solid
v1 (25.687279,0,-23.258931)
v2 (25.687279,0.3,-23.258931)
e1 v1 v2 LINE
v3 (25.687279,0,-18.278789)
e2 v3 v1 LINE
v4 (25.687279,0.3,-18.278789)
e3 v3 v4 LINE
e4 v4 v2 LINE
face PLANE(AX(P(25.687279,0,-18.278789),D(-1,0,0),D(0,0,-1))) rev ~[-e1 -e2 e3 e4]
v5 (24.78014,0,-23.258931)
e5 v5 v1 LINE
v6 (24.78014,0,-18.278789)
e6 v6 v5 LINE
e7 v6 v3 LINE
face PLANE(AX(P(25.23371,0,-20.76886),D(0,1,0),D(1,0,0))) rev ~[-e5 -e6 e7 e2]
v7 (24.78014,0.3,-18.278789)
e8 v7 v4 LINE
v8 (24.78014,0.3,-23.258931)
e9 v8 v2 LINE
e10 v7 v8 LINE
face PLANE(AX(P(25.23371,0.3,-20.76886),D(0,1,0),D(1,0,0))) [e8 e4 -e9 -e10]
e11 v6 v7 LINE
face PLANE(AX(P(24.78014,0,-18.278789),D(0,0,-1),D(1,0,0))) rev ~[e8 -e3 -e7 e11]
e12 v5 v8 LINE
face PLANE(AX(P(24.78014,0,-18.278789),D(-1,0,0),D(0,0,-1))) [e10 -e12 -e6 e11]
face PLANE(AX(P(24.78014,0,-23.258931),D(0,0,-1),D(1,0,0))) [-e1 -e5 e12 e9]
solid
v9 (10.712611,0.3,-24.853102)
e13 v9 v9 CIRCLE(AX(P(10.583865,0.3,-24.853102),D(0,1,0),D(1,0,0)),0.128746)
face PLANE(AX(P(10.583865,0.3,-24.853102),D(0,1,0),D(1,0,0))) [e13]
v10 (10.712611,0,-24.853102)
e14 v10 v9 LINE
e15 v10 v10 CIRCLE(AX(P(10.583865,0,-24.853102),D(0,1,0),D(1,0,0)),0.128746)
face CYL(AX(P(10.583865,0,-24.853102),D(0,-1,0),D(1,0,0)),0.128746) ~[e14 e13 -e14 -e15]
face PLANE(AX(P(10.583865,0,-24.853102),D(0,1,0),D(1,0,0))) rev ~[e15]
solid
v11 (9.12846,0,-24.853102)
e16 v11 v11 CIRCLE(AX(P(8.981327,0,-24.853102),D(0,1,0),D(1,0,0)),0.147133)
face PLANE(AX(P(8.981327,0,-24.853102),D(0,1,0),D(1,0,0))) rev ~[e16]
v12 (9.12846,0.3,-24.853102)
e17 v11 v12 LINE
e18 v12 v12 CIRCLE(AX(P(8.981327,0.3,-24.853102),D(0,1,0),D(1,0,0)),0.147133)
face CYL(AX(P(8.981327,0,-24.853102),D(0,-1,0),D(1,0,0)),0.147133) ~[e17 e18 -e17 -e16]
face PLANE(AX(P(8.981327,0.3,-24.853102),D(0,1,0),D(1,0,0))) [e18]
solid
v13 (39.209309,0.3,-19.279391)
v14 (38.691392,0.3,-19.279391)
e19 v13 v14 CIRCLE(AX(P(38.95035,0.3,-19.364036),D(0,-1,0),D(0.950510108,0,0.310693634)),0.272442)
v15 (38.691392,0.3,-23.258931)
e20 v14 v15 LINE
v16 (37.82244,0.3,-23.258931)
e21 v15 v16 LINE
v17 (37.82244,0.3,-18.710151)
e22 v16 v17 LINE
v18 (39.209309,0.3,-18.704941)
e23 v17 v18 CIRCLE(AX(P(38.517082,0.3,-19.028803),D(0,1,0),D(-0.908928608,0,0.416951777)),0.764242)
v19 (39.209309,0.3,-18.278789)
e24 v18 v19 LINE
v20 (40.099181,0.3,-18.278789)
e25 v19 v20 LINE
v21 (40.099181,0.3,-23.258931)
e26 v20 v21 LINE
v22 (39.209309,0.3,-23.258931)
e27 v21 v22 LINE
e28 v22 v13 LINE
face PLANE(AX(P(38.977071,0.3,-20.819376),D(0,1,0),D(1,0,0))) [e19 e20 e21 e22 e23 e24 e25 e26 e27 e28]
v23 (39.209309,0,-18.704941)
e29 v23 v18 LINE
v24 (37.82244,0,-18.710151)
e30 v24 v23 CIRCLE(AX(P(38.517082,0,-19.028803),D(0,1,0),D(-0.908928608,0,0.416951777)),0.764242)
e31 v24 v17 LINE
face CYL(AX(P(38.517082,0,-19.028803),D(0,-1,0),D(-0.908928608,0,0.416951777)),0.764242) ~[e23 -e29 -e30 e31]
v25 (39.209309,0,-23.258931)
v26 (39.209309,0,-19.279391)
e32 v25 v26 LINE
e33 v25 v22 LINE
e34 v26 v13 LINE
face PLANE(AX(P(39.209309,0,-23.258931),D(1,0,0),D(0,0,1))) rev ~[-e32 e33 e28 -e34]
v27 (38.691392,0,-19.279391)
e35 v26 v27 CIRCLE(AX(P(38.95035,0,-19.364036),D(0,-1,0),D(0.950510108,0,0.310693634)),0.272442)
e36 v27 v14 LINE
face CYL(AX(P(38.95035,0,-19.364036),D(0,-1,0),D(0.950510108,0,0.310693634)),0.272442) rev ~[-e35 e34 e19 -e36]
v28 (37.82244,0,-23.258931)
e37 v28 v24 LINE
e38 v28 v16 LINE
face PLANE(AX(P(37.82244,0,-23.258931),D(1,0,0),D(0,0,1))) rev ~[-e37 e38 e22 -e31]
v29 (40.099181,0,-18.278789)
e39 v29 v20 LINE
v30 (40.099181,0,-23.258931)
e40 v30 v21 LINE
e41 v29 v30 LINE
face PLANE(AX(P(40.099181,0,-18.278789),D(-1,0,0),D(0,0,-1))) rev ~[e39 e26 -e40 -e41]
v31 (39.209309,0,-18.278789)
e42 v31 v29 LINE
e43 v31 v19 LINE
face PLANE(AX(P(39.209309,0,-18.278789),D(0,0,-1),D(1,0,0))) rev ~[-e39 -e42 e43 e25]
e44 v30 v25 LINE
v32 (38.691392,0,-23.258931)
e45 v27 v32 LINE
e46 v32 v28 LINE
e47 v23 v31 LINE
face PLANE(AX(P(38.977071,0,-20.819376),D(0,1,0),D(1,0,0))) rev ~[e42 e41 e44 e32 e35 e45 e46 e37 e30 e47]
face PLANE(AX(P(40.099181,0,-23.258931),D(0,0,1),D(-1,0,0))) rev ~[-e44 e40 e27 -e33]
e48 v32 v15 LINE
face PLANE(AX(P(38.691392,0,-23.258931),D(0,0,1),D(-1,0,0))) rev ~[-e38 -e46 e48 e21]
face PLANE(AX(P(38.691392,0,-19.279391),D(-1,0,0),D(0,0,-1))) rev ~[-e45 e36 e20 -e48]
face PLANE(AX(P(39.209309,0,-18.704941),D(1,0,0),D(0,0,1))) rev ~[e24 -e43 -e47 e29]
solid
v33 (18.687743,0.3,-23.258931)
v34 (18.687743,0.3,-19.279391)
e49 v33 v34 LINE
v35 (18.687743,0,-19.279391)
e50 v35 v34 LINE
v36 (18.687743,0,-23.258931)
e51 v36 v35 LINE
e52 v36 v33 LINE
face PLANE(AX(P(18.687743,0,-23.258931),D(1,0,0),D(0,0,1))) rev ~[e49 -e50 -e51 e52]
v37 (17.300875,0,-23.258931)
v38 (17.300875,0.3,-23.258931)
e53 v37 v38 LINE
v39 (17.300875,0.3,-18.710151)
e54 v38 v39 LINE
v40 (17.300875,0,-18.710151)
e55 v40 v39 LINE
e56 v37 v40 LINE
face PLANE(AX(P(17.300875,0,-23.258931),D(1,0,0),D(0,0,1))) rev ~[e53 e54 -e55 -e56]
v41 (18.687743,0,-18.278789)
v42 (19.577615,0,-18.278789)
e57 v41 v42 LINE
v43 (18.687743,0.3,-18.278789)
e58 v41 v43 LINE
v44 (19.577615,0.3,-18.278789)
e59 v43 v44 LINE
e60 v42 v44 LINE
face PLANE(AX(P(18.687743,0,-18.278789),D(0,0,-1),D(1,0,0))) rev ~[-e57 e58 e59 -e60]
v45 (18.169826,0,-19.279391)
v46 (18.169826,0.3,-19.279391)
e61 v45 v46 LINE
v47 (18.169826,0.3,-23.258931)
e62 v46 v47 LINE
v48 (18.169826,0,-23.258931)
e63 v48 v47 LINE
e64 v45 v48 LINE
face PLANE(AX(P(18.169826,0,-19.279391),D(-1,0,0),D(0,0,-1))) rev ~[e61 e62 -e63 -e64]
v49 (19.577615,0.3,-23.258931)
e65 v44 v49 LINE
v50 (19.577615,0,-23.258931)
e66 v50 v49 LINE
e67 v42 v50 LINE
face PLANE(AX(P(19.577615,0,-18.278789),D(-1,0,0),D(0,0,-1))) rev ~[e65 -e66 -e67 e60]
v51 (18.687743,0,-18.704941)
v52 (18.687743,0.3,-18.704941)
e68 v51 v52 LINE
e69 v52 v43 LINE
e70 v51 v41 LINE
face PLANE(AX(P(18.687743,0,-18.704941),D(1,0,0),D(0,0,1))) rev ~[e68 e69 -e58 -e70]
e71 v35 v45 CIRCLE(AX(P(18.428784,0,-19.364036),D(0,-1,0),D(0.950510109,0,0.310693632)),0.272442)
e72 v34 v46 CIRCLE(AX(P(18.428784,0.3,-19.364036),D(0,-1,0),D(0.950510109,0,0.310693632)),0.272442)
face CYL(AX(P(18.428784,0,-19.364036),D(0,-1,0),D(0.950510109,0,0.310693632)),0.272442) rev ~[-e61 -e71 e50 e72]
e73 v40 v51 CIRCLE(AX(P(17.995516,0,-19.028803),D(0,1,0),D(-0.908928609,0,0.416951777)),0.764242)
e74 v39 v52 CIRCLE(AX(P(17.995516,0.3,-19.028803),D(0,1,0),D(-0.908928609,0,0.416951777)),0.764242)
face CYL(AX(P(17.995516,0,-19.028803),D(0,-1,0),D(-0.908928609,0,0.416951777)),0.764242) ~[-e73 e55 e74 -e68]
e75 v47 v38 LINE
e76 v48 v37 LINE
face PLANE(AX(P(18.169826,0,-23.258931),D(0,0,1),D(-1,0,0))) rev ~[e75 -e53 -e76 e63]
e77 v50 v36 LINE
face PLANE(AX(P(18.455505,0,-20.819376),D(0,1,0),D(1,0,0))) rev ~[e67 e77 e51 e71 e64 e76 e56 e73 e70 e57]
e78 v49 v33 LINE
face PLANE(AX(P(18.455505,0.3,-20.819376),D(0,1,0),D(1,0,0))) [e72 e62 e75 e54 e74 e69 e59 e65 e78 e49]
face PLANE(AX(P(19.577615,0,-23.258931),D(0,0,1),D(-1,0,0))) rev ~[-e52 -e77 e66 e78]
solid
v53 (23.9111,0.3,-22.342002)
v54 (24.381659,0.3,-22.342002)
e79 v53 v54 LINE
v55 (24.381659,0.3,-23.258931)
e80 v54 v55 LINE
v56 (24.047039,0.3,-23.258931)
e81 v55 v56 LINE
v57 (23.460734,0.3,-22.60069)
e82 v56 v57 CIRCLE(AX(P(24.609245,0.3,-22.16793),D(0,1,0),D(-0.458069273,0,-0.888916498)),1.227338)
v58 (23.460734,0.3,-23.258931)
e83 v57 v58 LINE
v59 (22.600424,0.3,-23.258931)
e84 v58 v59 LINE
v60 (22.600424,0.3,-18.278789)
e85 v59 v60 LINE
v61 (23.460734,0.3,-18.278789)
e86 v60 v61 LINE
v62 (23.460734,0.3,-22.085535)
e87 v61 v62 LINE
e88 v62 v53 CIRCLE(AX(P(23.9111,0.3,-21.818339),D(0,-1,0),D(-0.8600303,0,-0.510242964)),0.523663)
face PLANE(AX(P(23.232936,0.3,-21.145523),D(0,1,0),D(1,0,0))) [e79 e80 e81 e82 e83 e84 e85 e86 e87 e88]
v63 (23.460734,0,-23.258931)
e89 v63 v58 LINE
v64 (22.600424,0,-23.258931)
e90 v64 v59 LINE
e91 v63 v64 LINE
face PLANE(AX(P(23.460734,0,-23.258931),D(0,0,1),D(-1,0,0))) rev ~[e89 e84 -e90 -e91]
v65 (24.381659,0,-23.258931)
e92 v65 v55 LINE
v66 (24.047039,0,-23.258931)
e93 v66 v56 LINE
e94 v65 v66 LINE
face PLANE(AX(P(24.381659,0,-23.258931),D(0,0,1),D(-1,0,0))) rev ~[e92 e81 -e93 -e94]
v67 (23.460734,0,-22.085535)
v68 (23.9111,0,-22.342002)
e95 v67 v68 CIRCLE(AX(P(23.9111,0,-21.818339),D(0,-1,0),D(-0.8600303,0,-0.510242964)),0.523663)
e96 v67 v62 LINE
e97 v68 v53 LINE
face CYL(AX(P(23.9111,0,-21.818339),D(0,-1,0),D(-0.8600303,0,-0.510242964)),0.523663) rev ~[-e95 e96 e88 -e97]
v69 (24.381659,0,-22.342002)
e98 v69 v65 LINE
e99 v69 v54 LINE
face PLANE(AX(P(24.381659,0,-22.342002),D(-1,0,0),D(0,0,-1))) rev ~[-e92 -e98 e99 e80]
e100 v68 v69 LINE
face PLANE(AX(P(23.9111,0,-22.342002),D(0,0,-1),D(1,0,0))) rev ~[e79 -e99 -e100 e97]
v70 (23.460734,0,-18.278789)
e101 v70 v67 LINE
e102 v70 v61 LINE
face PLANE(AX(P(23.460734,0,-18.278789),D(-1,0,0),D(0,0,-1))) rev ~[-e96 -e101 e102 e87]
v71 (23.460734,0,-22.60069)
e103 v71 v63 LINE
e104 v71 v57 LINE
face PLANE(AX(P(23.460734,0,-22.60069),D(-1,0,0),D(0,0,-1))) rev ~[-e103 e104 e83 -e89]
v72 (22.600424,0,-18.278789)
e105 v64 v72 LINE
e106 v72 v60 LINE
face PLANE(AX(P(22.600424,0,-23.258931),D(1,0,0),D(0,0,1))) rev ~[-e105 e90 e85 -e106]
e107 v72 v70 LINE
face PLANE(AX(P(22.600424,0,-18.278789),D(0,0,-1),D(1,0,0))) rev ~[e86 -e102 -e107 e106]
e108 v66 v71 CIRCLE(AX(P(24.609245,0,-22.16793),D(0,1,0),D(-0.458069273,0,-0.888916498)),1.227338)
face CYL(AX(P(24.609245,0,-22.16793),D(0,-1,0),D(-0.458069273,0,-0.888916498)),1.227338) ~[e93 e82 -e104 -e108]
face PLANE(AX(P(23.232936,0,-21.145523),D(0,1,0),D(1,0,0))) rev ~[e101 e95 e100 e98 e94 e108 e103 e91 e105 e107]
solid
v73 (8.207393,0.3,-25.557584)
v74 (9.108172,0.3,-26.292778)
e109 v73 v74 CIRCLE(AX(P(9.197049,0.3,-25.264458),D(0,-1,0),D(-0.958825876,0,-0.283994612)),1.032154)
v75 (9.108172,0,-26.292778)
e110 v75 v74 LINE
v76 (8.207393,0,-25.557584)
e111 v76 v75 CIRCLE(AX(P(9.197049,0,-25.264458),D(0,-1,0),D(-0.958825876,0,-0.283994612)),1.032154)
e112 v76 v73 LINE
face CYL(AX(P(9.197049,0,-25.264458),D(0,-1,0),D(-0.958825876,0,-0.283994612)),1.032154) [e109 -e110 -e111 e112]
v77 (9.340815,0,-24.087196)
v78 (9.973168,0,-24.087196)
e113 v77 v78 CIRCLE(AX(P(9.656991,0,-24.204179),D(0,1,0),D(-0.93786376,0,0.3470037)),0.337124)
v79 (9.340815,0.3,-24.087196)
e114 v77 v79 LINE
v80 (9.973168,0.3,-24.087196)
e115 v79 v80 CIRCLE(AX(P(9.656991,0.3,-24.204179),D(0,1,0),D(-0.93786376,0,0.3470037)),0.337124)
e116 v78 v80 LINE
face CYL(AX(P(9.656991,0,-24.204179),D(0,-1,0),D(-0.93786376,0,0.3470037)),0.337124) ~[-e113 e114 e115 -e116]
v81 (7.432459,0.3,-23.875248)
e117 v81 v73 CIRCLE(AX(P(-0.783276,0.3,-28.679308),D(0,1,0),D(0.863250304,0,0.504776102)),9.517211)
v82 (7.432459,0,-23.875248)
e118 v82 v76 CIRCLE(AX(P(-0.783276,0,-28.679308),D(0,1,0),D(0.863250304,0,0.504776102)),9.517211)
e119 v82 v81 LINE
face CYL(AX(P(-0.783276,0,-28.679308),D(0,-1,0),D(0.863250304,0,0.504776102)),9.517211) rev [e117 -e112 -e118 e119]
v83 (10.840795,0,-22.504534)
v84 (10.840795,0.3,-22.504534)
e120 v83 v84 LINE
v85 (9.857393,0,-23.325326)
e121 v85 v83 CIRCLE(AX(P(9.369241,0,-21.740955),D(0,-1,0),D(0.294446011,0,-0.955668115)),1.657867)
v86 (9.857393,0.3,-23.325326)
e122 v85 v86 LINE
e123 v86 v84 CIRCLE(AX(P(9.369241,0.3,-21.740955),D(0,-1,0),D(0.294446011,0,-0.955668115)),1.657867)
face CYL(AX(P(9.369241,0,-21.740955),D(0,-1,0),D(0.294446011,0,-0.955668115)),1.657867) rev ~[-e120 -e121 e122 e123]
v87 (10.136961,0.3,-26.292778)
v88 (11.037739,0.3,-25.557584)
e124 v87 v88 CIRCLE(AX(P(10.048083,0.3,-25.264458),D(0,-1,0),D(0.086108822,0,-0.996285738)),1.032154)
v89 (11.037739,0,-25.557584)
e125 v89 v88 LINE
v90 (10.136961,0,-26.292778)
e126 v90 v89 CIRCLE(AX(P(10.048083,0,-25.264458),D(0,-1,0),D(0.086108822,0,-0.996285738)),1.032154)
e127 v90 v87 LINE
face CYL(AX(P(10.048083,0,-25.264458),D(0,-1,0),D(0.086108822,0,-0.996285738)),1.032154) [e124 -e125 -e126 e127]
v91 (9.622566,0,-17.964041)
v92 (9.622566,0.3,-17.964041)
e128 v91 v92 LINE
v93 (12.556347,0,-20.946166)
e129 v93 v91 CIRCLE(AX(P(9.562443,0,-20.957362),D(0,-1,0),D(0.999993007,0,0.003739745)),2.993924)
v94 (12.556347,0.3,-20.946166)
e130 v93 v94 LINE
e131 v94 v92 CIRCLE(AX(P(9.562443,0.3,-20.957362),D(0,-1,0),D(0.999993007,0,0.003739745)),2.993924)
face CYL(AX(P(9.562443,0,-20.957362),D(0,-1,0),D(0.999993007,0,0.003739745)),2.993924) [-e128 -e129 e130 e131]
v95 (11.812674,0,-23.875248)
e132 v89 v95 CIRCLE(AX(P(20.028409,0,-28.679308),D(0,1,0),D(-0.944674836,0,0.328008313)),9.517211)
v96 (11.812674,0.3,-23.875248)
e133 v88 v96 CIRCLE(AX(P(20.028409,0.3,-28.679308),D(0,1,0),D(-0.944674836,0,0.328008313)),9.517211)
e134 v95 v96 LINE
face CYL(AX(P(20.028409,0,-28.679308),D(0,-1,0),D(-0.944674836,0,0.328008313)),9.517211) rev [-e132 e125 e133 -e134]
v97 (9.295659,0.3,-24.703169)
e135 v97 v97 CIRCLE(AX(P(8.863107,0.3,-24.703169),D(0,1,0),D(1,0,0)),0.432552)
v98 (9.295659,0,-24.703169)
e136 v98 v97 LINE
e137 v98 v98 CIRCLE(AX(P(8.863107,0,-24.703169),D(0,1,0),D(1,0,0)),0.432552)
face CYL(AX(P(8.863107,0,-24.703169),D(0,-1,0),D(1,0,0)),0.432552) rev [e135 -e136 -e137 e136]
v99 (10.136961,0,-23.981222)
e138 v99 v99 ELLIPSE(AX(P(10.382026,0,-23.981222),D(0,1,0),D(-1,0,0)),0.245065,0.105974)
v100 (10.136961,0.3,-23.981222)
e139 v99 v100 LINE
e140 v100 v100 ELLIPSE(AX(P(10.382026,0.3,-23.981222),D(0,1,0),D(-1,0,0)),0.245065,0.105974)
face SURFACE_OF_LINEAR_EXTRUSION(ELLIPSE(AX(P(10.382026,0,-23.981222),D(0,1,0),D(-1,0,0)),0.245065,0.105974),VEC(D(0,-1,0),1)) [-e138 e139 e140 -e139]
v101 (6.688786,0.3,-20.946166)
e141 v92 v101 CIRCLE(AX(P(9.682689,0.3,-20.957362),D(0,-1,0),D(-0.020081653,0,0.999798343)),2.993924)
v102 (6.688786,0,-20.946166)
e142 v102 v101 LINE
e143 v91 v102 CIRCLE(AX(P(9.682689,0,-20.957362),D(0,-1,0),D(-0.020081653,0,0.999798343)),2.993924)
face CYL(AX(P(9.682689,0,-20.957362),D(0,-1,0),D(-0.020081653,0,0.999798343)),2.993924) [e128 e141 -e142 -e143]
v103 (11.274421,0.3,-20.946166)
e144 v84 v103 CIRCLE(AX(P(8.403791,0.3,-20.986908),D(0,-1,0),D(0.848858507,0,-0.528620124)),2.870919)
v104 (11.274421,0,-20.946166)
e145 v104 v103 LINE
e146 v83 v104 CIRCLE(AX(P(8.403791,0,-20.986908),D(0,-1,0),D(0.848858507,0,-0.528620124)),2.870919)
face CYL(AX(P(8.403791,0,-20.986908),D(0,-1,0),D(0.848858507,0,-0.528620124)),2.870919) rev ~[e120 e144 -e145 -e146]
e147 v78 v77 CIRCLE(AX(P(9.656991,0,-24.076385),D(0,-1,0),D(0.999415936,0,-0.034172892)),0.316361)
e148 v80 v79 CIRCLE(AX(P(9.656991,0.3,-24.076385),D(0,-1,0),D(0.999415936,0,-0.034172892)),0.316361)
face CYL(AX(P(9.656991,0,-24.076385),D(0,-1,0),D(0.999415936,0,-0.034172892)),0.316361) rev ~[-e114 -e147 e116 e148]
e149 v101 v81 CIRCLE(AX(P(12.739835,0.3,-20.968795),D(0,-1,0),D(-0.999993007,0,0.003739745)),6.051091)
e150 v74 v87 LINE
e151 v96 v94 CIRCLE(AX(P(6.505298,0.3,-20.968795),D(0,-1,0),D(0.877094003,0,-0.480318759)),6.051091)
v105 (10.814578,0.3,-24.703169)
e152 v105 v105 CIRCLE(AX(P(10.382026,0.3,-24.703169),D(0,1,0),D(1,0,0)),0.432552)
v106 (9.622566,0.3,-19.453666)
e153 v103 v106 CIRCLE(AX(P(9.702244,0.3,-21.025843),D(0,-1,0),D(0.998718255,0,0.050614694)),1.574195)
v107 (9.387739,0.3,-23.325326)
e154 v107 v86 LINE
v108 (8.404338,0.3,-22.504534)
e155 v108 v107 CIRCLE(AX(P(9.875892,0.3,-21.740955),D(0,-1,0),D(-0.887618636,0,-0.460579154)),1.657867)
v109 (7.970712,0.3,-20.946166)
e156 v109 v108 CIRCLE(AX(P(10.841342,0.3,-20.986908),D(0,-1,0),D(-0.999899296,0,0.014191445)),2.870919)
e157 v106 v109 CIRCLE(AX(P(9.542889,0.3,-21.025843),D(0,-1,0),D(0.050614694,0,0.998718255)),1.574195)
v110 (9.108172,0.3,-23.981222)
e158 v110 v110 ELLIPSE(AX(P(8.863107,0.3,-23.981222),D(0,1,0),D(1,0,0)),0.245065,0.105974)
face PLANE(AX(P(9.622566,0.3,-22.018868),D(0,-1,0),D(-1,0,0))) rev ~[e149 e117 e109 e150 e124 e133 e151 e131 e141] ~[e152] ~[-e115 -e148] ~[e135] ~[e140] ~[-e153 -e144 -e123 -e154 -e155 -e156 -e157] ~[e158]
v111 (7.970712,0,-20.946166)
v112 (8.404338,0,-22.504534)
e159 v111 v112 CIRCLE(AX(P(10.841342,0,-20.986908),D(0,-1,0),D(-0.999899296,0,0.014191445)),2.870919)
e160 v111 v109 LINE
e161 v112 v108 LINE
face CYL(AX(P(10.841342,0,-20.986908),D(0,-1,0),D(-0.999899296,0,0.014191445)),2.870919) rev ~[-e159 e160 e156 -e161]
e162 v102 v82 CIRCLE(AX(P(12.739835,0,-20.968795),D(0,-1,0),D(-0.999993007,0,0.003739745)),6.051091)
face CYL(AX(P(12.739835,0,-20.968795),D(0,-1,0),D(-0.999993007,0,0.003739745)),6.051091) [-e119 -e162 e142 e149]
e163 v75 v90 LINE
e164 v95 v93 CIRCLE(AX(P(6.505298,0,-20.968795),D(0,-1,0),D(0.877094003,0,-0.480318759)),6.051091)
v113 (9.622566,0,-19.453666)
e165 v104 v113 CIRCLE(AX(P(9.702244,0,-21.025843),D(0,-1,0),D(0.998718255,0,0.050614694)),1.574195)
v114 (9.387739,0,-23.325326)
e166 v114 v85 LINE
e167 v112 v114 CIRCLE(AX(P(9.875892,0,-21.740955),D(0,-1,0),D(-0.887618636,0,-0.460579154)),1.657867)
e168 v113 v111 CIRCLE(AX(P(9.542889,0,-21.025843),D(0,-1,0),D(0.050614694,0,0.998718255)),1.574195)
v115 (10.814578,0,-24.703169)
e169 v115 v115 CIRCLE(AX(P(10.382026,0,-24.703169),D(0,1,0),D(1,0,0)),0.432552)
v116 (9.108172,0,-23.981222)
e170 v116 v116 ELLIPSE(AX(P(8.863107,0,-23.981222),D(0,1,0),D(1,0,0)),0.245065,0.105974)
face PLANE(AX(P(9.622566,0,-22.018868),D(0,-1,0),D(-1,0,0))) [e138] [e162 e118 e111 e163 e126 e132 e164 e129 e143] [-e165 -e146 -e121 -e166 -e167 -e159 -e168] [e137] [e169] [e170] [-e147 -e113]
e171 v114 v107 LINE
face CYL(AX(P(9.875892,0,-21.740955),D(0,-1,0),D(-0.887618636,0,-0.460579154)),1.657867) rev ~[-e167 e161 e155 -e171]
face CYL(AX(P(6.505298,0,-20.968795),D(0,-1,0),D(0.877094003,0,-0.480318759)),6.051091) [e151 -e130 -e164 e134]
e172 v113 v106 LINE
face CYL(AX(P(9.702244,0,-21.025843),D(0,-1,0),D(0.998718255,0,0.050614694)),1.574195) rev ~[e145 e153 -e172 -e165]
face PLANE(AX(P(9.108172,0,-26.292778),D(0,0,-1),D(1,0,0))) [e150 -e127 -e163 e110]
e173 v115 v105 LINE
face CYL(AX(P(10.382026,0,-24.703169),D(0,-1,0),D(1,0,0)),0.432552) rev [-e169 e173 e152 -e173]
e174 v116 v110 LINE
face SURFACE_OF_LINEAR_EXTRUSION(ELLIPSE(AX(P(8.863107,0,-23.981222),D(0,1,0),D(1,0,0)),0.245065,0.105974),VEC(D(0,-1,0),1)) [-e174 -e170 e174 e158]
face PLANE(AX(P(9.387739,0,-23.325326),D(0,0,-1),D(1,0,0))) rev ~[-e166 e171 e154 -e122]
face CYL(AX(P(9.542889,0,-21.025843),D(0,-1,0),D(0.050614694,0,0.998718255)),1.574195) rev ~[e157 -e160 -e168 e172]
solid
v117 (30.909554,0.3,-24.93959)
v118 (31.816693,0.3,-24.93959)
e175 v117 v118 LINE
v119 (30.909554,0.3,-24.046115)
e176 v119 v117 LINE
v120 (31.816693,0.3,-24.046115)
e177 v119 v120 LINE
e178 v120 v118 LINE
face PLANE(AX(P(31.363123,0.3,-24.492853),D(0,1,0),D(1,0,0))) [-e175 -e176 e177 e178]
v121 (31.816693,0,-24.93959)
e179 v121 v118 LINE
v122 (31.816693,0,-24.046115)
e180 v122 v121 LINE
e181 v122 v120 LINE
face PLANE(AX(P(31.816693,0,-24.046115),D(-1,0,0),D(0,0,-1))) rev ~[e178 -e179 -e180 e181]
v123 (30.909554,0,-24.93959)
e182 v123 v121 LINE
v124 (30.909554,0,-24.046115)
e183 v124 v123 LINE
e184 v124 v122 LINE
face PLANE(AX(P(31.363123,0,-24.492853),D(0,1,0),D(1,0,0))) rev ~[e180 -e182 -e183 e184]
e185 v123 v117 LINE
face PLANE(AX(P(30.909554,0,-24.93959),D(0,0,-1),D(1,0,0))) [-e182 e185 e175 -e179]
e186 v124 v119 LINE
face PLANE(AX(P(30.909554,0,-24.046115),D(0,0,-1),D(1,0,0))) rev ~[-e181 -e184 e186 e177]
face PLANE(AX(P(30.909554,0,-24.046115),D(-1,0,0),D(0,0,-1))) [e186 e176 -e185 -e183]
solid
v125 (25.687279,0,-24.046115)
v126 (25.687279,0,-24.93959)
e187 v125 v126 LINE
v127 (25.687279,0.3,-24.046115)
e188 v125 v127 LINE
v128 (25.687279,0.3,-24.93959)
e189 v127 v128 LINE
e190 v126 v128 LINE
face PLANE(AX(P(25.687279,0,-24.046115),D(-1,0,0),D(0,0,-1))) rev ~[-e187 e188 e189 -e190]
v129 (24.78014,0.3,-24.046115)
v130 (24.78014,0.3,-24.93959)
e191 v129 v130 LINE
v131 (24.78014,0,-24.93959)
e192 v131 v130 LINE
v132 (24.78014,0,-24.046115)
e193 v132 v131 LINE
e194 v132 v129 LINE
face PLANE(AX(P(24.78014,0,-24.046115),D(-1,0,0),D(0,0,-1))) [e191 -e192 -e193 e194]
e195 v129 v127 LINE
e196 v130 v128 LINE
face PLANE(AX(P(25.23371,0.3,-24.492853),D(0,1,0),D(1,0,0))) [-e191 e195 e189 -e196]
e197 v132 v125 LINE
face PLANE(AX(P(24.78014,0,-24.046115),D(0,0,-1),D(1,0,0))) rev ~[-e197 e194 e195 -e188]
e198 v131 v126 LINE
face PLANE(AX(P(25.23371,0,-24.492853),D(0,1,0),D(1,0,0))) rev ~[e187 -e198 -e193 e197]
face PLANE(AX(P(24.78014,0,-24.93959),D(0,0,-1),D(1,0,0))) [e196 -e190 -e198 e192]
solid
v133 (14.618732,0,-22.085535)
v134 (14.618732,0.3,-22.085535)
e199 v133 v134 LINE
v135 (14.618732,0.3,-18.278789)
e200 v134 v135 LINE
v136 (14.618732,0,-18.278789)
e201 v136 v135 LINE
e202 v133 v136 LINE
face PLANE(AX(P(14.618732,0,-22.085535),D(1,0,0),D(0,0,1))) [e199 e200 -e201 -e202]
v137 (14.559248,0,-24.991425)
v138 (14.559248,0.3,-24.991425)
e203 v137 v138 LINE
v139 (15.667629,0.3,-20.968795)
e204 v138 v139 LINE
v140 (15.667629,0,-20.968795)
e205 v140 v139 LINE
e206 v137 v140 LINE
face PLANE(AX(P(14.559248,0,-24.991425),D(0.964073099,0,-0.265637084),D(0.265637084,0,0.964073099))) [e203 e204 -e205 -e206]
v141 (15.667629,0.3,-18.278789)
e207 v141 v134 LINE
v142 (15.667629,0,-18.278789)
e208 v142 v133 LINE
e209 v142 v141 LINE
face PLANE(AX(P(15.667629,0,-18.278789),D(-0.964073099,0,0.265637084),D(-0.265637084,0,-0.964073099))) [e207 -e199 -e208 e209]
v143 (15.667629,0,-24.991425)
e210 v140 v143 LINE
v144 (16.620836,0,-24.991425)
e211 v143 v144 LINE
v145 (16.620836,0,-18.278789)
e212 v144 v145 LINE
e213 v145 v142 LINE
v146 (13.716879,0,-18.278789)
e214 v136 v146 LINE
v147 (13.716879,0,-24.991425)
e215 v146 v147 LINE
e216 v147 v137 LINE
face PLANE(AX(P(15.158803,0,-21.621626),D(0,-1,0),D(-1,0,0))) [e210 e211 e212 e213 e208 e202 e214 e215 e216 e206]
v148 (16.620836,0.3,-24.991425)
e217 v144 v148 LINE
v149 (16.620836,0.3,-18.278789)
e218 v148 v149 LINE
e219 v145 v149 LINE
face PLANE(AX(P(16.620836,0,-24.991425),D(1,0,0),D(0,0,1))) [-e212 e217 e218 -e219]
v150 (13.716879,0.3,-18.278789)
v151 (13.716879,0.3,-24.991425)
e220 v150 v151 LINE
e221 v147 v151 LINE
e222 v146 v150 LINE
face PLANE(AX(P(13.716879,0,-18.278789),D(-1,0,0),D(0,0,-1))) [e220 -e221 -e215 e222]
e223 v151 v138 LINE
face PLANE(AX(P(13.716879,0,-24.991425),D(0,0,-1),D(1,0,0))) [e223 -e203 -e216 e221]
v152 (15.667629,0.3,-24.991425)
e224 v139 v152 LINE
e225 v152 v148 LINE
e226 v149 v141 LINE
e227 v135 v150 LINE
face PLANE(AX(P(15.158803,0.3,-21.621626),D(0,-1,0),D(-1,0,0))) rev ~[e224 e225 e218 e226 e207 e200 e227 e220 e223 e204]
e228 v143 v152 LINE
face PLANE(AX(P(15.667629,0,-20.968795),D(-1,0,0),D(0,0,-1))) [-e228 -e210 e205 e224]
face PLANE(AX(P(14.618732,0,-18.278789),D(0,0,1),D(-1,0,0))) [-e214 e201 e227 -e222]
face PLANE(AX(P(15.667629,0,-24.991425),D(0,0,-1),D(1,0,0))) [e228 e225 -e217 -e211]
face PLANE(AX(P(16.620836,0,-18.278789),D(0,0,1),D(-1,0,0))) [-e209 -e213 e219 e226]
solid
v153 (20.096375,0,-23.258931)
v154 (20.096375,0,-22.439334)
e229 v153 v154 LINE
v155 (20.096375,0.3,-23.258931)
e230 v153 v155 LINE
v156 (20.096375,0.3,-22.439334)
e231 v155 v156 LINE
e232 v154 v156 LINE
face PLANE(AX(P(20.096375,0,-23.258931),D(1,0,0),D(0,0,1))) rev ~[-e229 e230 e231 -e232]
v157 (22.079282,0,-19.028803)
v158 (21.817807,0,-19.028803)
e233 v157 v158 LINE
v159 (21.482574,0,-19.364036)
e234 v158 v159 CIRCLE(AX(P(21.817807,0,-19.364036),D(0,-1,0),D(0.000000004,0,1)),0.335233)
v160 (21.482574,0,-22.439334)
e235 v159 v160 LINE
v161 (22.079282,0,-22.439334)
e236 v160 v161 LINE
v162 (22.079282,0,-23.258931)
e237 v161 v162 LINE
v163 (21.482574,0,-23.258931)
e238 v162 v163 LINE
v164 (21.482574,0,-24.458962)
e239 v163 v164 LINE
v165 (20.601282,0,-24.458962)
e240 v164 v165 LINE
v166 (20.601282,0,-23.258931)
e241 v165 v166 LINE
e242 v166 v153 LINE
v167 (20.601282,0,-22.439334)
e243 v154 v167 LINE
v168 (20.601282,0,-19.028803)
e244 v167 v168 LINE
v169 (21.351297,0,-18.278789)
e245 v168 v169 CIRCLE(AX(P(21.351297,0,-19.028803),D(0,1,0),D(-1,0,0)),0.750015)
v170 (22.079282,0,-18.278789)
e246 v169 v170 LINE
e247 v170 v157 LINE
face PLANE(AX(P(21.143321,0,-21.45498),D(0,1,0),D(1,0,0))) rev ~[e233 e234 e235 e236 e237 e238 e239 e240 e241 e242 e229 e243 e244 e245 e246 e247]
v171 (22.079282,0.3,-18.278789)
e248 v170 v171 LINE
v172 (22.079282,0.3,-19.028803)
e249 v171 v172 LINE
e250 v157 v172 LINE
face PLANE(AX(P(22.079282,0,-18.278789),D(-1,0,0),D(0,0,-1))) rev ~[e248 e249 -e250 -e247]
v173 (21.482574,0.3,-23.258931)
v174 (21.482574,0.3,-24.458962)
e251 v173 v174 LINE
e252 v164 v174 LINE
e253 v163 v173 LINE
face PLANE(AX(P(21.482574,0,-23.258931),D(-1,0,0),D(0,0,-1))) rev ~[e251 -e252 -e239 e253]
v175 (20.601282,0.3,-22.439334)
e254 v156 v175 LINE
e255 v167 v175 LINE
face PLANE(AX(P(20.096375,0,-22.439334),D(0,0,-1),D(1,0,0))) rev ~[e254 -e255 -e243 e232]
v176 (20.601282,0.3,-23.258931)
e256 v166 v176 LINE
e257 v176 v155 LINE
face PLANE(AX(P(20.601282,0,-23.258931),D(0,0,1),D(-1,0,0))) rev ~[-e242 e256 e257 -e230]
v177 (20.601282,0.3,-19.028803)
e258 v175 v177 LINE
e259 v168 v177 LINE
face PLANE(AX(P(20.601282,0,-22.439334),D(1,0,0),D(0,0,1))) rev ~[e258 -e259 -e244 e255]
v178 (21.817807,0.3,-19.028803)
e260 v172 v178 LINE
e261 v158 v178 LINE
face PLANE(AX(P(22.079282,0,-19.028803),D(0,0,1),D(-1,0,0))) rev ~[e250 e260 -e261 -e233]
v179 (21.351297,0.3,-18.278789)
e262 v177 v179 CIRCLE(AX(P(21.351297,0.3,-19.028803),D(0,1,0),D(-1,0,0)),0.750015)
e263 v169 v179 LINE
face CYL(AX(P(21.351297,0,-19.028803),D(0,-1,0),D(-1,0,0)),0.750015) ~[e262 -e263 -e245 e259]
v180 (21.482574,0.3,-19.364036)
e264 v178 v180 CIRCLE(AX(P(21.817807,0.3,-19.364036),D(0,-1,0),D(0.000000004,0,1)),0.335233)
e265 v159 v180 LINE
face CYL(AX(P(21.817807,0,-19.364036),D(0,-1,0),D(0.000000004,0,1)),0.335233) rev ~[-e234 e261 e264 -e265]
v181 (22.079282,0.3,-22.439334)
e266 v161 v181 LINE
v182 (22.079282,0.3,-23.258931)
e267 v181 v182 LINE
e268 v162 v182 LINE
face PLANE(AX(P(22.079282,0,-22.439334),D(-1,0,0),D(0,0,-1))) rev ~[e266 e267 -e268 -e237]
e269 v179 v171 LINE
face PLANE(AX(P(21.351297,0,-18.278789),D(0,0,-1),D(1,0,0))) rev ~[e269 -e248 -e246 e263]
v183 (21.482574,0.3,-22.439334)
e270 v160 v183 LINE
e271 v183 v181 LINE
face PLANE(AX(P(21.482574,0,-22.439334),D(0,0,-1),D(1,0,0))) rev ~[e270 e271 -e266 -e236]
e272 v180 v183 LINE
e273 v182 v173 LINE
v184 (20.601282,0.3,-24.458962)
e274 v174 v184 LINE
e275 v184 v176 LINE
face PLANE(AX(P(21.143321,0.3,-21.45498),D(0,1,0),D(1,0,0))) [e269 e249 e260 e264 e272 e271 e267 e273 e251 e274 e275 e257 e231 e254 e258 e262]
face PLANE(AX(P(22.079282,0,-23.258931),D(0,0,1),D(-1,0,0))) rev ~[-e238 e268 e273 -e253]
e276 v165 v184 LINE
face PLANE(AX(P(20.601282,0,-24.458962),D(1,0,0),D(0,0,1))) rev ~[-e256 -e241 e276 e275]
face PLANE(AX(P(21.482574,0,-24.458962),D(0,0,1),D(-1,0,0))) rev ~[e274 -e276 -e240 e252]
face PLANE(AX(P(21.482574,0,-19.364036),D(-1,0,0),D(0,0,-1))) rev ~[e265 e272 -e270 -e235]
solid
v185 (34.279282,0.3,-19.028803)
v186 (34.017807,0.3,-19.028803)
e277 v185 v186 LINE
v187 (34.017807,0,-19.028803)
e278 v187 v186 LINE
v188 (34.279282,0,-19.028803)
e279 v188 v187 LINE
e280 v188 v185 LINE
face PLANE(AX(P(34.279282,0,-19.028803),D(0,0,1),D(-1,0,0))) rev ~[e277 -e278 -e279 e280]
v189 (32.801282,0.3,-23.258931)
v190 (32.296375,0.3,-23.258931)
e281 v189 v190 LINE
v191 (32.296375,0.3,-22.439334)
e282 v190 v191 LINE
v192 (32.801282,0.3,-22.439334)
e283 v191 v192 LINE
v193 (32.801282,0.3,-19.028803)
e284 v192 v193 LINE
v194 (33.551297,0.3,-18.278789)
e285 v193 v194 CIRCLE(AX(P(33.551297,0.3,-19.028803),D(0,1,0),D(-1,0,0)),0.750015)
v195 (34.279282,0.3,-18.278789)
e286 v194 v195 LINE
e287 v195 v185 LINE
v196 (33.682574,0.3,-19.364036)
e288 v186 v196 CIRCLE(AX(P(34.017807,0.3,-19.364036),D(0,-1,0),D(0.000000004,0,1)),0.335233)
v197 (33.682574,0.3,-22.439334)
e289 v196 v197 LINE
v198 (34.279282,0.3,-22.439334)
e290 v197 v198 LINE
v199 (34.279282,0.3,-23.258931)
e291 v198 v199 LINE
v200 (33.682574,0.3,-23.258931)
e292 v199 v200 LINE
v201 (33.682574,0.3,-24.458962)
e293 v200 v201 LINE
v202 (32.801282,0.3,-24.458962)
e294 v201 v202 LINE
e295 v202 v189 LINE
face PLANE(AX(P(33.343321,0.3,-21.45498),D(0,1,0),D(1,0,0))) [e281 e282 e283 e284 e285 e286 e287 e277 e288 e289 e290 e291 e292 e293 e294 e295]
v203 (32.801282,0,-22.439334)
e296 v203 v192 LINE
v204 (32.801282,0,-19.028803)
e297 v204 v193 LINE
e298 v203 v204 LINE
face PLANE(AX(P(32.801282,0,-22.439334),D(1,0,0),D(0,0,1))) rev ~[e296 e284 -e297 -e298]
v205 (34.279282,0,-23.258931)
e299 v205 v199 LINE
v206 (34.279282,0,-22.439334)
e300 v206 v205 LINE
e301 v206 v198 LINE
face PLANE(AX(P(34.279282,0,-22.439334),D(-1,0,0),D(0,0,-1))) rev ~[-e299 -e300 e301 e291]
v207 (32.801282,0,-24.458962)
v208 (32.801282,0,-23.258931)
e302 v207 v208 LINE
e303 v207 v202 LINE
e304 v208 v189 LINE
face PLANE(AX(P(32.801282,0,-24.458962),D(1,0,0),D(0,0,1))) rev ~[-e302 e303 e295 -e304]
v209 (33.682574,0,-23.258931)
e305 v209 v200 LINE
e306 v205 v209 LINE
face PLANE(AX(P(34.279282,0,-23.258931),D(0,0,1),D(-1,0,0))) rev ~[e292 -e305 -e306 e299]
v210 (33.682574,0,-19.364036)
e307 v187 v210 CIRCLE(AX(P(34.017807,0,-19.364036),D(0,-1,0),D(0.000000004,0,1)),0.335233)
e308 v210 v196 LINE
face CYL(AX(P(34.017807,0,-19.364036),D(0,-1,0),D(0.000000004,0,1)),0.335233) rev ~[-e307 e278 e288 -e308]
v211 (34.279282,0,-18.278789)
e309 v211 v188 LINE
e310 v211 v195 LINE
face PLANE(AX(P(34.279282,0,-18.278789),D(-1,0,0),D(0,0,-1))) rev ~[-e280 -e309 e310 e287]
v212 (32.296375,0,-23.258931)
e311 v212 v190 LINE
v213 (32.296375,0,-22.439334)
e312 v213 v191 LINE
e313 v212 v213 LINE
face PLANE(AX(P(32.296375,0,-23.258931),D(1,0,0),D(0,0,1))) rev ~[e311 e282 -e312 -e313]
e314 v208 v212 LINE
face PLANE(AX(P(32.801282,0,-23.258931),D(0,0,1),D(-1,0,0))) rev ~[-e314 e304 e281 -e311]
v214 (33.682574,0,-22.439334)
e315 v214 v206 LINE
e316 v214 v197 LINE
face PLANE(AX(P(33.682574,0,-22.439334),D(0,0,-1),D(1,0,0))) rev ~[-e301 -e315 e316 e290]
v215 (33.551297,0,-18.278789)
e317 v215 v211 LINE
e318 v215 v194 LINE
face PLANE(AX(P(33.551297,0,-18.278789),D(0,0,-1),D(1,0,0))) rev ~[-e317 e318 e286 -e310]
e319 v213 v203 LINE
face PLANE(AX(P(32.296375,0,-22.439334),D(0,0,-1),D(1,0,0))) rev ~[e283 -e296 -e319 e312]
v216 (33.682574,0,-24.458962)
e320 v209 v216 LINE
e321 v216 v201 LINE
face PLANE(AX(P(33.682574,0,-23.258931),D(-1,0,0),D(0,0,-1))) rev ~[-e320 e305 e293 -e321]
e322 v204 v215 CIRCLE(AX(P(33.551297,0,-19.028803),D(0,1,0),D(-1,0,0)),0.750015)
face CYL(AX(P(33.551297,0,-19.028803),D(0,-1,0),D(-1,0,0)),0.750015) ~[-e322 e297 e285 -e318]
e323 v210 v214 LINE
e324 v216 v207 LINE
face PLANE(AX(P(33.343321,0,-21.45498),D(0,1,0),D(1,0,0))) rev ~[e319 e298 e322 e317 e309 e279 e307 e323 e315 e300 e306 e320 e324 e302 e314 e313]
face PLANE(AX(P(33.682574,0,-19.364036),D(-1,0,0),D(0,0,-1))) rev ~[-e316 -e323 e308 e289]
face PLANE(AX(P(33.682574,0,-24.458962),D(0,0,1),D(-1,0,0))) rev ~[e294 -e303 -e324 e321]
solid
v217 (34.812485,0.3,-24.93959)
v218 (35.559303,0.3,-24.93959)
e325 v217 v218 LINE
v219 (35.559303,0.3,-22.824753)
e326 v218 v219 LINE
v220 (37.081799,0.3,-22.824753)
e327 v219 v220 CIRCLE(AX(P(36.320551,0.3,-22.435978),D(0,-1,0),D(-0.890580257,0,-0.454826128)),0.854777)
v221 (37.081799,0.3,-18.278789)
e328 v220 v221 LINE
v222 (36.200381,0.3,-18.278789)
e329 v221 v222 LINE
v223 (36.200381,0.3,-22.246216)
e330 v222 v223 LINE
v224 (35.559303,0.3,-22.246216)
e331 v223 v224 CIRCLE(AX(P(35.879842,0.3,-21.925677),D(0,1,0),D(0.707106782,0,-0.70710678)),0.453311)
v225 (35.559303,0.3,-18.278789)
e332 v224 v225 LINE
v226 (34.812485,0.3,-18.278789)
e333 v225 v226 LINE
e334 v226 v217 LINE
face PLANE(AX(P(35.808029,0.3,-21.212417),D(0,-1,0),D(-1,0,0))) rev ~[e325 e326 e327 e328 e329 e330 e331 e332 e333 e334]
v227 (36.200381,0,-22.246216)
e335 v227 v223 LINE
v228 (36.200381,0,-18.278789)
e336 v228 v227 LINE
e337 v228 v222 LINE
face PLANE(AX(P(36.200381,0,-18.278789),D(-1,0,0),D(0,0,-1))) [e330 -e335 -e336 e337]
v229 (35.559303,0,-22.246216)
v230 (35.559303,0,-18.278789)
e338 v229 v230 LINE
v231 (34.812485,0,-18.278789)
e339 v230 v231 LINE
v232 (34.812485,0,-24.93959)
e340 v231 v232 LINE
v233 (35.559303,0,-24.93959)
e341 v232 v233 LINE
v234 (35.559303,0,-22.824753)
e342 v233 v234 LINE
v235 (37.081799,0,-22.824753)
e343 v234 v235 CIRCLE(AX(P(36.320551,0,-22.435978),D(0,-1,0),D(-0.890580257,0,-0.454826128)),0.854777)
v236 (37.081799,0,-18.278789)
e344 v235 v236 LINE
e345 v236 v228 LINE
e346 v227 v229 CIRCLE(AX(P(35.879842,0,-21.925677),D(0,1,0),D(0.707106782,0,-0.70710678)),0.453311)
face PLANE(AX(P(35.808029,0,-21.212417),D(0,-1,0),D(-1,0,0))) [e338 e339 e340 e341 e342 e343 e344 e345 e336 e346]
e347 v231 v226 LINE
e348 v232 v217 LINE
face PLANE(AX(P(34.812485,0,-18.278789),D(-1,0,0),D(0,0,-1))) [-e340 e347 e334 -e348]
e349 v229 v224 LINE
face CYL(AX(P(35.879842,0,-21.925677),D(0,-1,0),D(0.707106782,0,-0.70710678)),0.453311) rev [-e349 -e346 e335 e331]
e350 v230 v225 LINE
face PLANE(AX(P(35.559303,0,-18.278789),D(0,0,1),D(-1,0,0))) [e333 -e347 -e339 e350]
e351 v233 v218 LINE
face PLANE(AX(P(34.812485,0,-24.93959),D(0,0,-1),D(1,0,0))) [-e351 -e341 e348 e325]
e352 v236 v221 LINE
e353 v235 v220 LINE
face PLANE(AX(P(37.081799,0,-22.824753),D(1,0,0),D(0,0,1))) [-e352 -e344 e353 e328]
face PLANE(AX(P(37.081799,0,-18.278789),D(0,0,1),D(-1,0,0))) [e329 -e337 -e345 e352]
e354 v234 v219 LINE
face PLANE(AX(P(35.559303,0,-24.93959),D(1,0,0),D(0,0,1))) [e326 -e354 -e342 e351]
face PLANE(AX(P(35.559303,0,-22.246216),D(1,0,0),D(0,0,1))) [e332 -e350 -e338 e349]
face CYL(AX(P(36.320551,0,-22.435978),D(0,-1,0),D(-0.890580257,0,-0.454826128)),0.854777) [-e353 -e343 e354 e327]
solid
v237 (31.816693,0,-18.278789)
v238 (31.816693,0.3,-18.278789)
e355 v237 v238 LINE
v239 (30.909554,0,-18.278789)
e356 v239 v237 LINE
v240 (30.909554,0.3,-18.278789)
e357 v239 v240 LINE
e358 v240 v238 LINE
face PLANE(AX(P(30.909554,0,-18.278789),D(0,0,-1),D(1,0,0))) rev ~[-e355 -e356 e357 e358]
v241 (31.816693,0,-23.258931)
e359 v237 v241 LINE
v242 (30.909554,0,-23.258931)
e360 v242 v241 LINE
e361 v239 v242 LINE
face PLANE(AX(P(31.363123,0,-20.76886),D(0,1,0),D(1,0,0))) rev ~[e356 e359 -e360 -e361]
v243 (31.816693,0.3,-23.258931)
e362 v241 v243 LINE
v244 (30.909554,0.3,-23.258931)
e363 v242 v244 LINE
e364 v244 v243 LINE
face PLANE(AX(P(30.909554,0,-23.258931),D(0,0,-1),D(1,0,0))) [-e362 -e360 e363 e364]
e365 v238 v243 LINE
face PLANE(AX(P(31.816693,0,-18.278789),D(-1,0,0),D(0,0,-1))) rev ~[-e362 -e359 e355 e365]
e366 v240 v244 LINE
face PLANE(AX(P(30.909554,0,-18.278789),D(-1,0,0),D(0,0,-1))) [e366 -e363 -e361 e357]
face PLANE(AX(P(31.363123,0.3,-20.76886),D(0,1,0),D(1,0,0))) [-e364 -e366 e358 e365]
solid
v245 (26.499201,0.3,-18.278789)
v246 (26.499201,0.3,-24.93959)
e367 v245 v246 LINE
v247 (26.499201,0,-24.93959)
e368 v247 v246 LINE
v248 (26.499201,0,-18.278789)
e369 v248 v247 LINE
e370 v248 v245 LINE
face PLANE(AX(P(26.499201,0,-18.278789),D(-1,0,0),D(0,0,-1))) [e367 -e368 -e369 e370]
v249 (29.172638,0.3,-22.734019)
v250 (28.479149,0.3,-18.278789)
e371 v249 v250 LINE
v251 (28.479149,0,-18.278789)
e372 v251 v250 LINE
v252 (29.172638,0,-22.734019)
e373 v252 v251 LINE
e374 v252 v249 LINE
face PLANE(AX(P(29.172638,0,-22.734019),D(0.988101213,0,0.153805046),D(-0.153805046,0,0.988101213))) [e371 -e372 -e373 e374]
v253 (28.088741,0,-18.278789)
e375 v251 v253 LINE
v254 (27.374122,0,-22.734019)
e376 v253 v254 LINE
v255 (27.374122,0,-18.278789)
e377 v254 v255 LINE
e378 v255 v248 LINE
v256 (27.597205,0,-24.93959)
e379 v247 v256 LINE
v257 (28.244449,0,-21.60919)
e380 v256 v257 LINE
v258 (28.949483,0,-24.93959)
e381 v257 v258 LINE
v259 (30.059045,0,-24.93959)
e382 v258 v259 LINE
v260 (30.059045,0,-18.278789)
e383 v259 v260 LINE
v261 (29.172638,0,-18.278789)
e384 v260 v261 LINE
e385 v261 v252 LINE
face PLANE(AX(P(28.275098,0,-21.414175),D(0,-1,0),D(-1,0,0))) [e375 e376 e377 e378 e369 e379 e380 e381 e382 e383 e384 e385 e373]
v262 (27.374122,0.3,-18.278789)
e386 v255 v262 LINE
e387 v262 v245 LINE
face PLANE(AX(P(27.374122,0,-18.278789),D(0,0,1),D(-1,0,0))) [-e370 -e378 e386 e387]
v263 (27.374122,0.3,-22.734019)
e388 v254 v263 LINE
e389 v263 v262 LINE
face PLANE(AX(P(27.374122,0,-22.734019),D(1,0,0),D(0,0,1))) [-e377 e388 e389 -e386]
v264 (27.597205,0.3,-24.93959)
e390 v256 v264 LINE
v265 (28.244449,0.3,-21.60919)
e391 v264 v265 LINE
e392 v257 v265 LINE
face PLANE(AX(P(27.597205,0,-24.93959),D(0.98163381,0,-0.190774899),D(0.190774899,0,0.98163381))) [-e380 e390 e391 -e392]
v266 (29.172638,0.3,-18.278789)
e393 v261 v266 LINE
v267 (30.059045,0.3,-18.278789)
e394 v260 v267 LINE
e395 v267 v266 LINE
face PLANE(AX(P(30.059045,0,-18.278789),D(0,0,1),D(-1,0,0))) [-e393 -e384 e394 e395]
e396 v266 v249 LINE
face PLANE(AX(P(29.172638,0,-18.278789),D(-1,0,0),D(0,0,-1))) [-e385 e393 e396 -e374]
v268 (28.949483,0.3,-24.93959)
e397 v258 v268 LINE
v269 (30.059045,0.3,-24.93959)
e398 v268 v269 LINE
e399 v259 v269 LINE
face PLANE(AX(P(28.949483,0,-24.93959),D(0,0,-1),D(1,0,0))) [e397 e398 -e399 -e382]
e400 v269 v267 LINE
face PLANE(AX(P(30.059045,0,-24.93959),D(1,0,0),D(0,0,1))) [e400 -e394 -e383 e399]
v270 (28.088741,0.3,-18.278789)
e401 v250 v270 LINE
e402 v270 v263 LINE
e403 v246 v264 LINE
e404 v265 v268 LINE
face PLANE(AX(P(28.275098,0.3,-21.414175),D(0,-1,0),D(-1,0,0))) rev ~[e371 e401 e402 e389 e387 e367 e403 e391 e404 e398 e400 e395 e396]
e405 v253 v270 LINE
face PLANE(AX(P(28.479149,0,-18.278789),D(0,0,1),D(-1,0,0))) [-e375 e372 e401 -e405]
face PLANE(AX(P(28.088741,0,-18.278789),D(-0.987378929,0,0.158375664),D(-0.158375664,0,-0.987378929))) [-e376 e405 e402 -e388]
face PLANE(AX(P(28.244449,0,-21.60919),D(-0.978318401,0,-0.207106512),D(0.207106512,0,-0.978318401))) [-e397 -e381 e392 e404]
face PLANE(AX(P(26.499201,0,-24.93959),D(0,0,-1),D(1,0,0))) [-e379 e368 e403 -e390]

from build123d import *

# Parameters (mm, degrees)
BOSS_EXTRUDE1_DEPTH    = 0.3
BOSS_EXTRUDE1_2_DEPTH  = 0.3
BOSS_EXTRUDE1_3_DEPTH  = 0.3
BOSS_EXTRUDE1_4_DEPTH  = 0.3
BOSS_EXTRUDE1_5_DEPTH  = 0.3
SKETCH4_W              = 0.907139685
SKETCH4_H              = 4.980142663
BOSS_EXTRUDE1_6_DEPTH  = 0.3
SKETCH4_H_2            = 0.893475319
BOSS_EXTRUDE1_7_DEPTH  = 0.3
BOSS_EXTRUDE1_8_DEPTH  = 0.3
BOSS_EXTRUDE1_9_DEPTH  = 0.3
BOSS_EXTRUDE1_10_DEPTH = 0.3
BOSS_EXTRUDE1_11_DEPTH = 0.3
BOSS_EXTRUDE1_12_DEPTH = 0.3
SKETCH4_6_R            = 0.147132828
BOSS_EXTRUDE2_DEPTH    = 0.3
SKETCH4_6_R_2          = 0.128746351
BOSS_EXTRUDE2_2_DEPTH  = 0.3
SKETCH4_6_R_3          = 0.432552287
SKETCH4_6_RX           = 0.245064734
SKETCH4_6_RY           = 0.105973939
BOSS_EXTRUDE2_3_DEPTH  = 0.3


with BuildPart() as part:
    # Sketch4 → Boss-Extrude1 (new body)
    with BuildSketch(Plane(origin=(0, 0, 0), x_dir=(1, 0, 0), z_dir=(0, 1, 0))):
        Polygon((13.716879182, 18.278788665), (13.716879182, 24.991425443), (14.559248335, 24.991425443), (15.667628801, 20.968795109), (15.667628801, 24.991425443), (16.620836001, 24.991425443), (16.620836001, 18.278788665), (15.667628801, 18.278788665), (14.618732293, 22.08553467), (14.618732293, 18.278788665), align=None)
    extrude(amount=BOSS_EXTRUDE1_DEPTH)


with BuildPart() as body_2:
    # Sketch4 → Boss-Extrude1 2 (new body)
    with BuildSketch(Plane(origin=(0, 0, 0), x_dir=(1, 0, 0), z_dir=(0, 1, 0))):
        with BuildLine():
            Line((17.30087467, 23.258931328), (17.30087467, 18.710151468))
            ThreePointArc((17.30087467, 18.710151468), (17.992644328, 18.264567096), (18.687742823, 18.704940544))
            Line((18.687742823, 18.704940544), (18.687742823, 18.278788665))
            Line((18.687742823, 18.278788665), (19.577615355, 18.278788665))
            Line((19.577615355, 18.278788665), (19.577615355, 23.258931328))
            Line((19.577615355, 23.258931328), (18.687742823, 23.258931328))
            Line((18.687742823, 23.258931328), (18.687742823, 19.279390612))
            ThreePointArc((18.687742823, 19.279390612), (18.428784342, 19.091594892), (18.16982586, 19.279390612))
            Line((18.16982586, 19.279390612), (18.16982586, 23.258931328))
            Line((18.16982586, 23.258931328), (17.30087467, 23.258931328))
        make_face()
    extrude(amount=BOSS_EXTRUDE1_2_DEPTH)


with BuildPart() as body_3:
    # Sketch4 → Boss-Extrude1 3 (new body)
    with BuildSketch(Plane(origin=(0, 0, 0), x_dir=(1, 0, 0), z_dir=(0, 1, 0))):
        with BuildLine():
            Line((37.822440447, 23.258931328), (37.822440447, 18.710151468))
            ThreePointArc((37.822440447, 18.710151468), (38.514210105, 18.264567096), (39.209308601, 18.704940544))
            Line((39.209308601, 18.704940544), (39.209308601, 18.278788665))
            Line((39.209308601, 18.278788665), (40.099181132, 18.278788665))
            Line((40.099181132, 18.278788665), (40.099181132, 23.258931328))
            Line((40.099181132, 23.258931328), (39.209308601, 23.258931328))
            Line((39.209308601, 23.258931328), (39.209308601, 19.279390612))
            ThreePointArc((39.209308601, 19.279390612), (38.950350119, 19.091594892), (38.691391637, 19.279390612))
            Line((38.691391637, 19.279390612), (38.691391637, 23.258931328))
            Line((38.691391637, 23.258931328), (37.822440447, 23.258931328))
        make_face()
    extrude(amount=BOSS_EXTRUDE1_3_DEPTH)


with BuildPart() as body_4:
    # Sketch4 → Boss-Extrude1 4 (new body)
    with BuildSketch(Plane(origin=(0, 0, 0), x_dir=(1, 0, 0), z_dir=(0, 1, 0))):
        with BuildLine():
            Line((21.482574077, 19.364036479), (21.482574077, 22.439333993))
            Line((21.482574077, 22.439333993), (22.079282394, 22.439333993))
            Line((22.079282394, 22.439333993), (22.079282394, 23.258931328))
            Line((22.079282394, 23.258931328), (21.482574077, 23.258931328))
            Line((21.482574077, 23.258931328), (21.482574077, 24.458962143))
            Line((21.482574077, 24.458962143), (20.601281794, 24.458962143))
            Line((20.601281794, 24.458962143), (20.601281794, 23.258931328))
            Line((20.601281794, 23.258931328), (20.096374756, 23.258931328))
            Line((20.096374756, 23.258931328), (20.096374756, 22.439333993))
            Line((20.096374756, 22.439333993), (20.601281794, 22.439333993))
            Line((20.601281794, 22.439333993), (20.601281794, 19.028803404))
            ThreePointArc((20.601281794, 19.028803404), (20.820956025, 18.498462896), (21.351296532, 18.278788665))
            Line((21.351296532, 18.278788665), (22.079282394, 18.278788665))
            Line((22.079282394, 18.278788665), (22.079282394, 19.028803404))
            Line((22.079282394, 19.028803404), (21.817807152, 19.028803404))
            ThreePointArc((21.817807152, 19.028803404), (21.580761571, 19.126990898), (21.482574077, 19.364036479))
        make_face()
    extrude(amount=BOSS_EXTRUDE1_4_DEPTH)


with BuildPart() as body_5:
    # Sketch4 → Boss-Extrude1 5 (new body)
    with BuildSketch(Plane(origin=(0, 0, 0), x_dir=(1, 0, 0), z_dir=(0, 1, 0))):
        with BuildLine():
            Line((23.460734175, 22.600690426), (23.460734175, 23.258931328))
            Line((23.460734175, 23.258931328), (22.600423707, 23.258931328))
            Line((22.600423707, 23.258931328), (22.600423707, 18.278788665))
            Line((22.600423707, 18.278788665), (23.460734175, 18.278788665))
            Line((23.460734175, 18.278788665), (23.460734175, 22.08553467))
            ThreePointArc((23.460734175, 22.08553467), (23.651964482, 22.273390501), (23.911100107, 22.342002244))
            Line((23.911100107, 22.342002244), (24.381658901, 22.342002244))
            Line((24.381658901, 22.342002244), (24.381658901, 23.258931328))
            Line((24.381658901, 23.258931328), (24.047039314, 23.258931328))
            ThreePointArc((24.047039314, 23.258931328), (23.692752783, 22.984263823), (23.460734175, 22.600690426))
        make_face()
    extrude(amount=BOSS_EXTRUDE1_5_DEPTH)


with BuildPart() as body_6:
    # Sketch4 → Boss-Extrude1 6 (new body)
    with BuildSketch(Plane(origin=(0, 0, 0), x_dir=(1, 0, 0), z_dir=(0, 1, 0))):
        with Locations((25.233709616, 20.768859997)):
            Rectangle(SKETCH4_W, SKETCH4_H)
    extrude(amount=BOSS_EXTRUDE1_6_DEPTH)


with BuildPart() as body_7:
    # Sketch4 → Boss-Extrude1 7 (new body)
    with BuildSketch(Plane(origin=(0, 0, 0), x_dir=(1, 0, 0), z_dir=(0, 1, 0))):
        with Locations((25.233709616, 24.49285274)):
            Rectangle(SKETCH4_W, SKETCH4_H_2)
    extrude(amount=BOSS_EXTRUDE1_7_DEPTH)


with BuildPart() as body_8:
    # Sketch4 → Boss-Extrude1 8 (new body)
    with BuildSketch(Plane(origin=(0, 0, 0), x_dir=(1, 0, 0), z_dir=(0, 1, 0))):
        Polygon((26.49920087, 18.278788665), (26.49920087, 24.939590399), (27.597204595, 24.939590399), (28.244448896, 21.609189532), (28.949482866, 24.939590399), (30.059044525, 24.939590399), (30.059044525, 18.278788665), (29.172637859, 18.278788665), (29.172637859, 22.734019126), (28.47914926, 18.278788665), (28.088740973, 18.278788665), (27.37412163, 22.734019126), (27.37412163, 18.278788665), align=None)
    extrude(amount=BOSS_EXTRUDE1_8_DEPTH)


with BuildPart() as body_9:
    # Sketch4 → Boss-Extrude1 9 (new body)
    with BuildSketch(Plane(origin=(0, 0, 0), x_dir=(1, 0, 0), z_dir=(0, 1, 0))):
        with BuildLine():
            Line((34.812485031, 24.939590399), (35.559303143, 24.939590399))
            Line((35.559303143, 24.939590399), (35.559303143, 22.824753136))
            ThreePointArc((35.559303143, 22.824753136), (36.320550869, 23.290755349), (37.081798595, 22.824753136))
            Line((37.081798595, 22.824753136), (37.081798595, 18.278788665))
            Line((37.081798595, 18.278788665), (36.200381016, 18.278788665))
            Line((36.200381016, 18.278788665), (36.200381016, 22.246216016))
            ThreePointArc((36.200381016, 22.246216016), (35.87984208, 22.378987591), (35.559303143, 22.246216016))
            Line((35.559303143, 22.246216016), (35.559303143, 18.278788665))
            Line((35.559303143, 18.278788665), (34.812485031, 18.278788665))
            Line((34.812485031, 18.278788665), (34.812485031, 24.939590399))
        make_face()
    extrude(amount=BOSS_EXTRUDE1_9_DEPTH)


with BuildPart() as body_10:
    # Sketch4 → Boss-Extrude1 10 (new body)
    with BuildSketch(Plane(origin=(0, 0, 0), x_dir=(1, 0, 0), z_dir=(0, 1, 0))):
        with Locations((31.36312338, 24.49285274)):
            Rectangle(SKETCH4_W, SKETCH4_H_2)
    extrude(amount=BOSS_EXTRUDE1_10_DEPTH)


with BuildPart() as body_11:
    # Sketch4 → Boss-Extrude1 11 (new body)
    with BuildSketch(Plane(origin=(0, 0, 0), x_dir=(1, 0, 0), z_dir=(0, 1, 0))):
        with Locations((31.36312338, 20.768859997)):
            Rectangle(SKETCH4_W, SKETCH4_H)
    extrude(amount=BOSS_EXTRUDE1_11_DEPTH)


with BuildPart() as body_12:
    # Sketch4 → Boss-Extrude1 12 (new body)
    with BuildSketch(Plane(origin=(0, 0, 0), x_dir=(1, 0, 0), z_dir=(0, 1, 0))):
        with BuildLine():
            Line((32.801281794, 23.258931328), (32.296374756, 23.258931328))
            Line((32.296374756, 23.258931328), (32.296374756, 22.439333993))
            Line((32.296374756, 22.439333993), (32.801281794, 22.439333993))
            Line((32.801281794, 22.439333993), (32.801281794, 19.028803404))
            ThreePointArc((32.801281794, 19.028803404), (33.020956025, 18.498462896), (33.551296532, 18.278788665))
            Line((33.551296532, 18.278788665), (34.279282394, 18.278788665))
            Line((34.279282394, 18.278788665), (34.279282394, 19.028803404))
            Line((34.279282394, 19.028803404), (34.017807152, 19.028803404))
            ThreePointArc((34.017807152, 19.028803404), (33.780761571, 19.126990898), (33.682574077, 19.364036479))
            Line((33.682574077, 19.364036479), (33.682574077, 22.439333993))
            Line((33.682574077, 22.439333993), (34.279282394, 22.439333993))
            Line((34.279282394, 22.439333993), (34.279282394, 23.258931328))
            Line((34.279282394, 23.258931328), (33.682574077, 23.258931328))
            Line((33.682574077, 23.258931328), (33.682574077, 24.458962143))
            Line((33.682574077, 24.458962143), (32.801281794, 24.458962143))
            Line((32.801281794, 24.458962143), (32.801281794, 23.258931328))
        make_face()
    extrude(amount=BOSS_EXTRUDE1_12_DEPTH)


with BuildPart() as body_13:
    # Sketch4<6> → Boss-Extrude2 (new body)
    with BuildSketch(Plane(origin=(0, 0, 0), x_dir=(1, 0, 0), z_dir=(0, 1, 0))):
        with Locations((8.981326725, 24.853101935)):
            Circle(SKETCH4_6_R)
    extrude(amount=BOSS_EXTRUDE2_DEPTH)


with BuildPart() as body_14:
    # Sketch4<6> → Boss-Extrude2 2 (new body)
    with BuildSketch(Plane(origin=(0, 0, 0), x_dir=(1, 0, 0), z_dir=(0, 1, 0))):
        with Locations((10.58386497, 24.853101935)):
            Circle(SKETCH4_6_R_2)
    extrude(amount=BOSS_EXTRUDE2_2_DEPTH)


with BuildPart() as body_15:
    # Sketch4<6> → Boss-Extrude2 3 (new body)
    with BuildSketch(Plane(origin=(0, 0, 0), x_dir=(1, 0, 0), z_dir=(0, 1, 0))):
        with BuildLine():
            Line((9.108171814, 26.292778247), (10.136960985, 26.292778247))
            ThreePointArc((10.136960985, 26.292778247), (10.700721386, 26.064086351), (11.037739466, 25.557584045))
            ThreePointArc((11.037739466, 25.557584045), (11.384182372, 24.69751888), (11.812673895, 23.875247764))
            ThreePointArc((11.812673895, 23.875247764), (12.370307343, 22.457879176), (12.556346989, 20.946165571))
            ThreePointArc((12.556346989, 20.946165571), (11.696696401, 18.857707801), (9.6225664, 17.96404135))
            ThreePointArc((9.6225664, 17.96404135), (7.548436398, 18.857707801), (6.68878581, 20.946165571))
            ThreePointArc((6.68878581, 20.946165571), (6.874825456, 22.457879176), (7.432458904, 23.875247764))
            ThreePointArc((7.432458904, 23.875247764), (7.860950427, 24.69751888), (8.207393333, 25.557584045))
            ThreePointArc((8.207393333, 25.557584045), (8.544411413, 26.064086351), (9.108171814, 26.292778247))
        make_face()
        with Locations((8.86310708, 24.703169162)):
            Circle(SKETCH4_6_R_3, mode=Mode.SUBTRACT)
        with Locations((10.382025719, 24.703169162)):
            Circle(SKETCH4_6_R_3, mode=Mode.SUBTRACT)
        with Locations((8.86310708, 23.981221703)):
            Ellipse(SKETCH4_6_RX, SKETCH4_6_RY, mode=Mode.SUBTRACT)
        with Locations(Location((10.382025719, 23.981221703), (0, 0, 180))):
            Ellipse(SKETCH4_6_RX, SKETCH4_6_RY, mode=Mode.SUBTRACT)
        with BuildLine():
            Line((9.387739323, 23.325325591), (9.857393476, 23.325325591))
            ThreePointArc((9.857393476, 23.325325591), (10.431567344, 23.013741731), (10.840795065, 22.504533714))
            ThreePointArc((10.840795065, 22.504533714), (11.169631295, 21.756520837), (11.274420962, 20.946165571))
            ThreePointArc((11.274420962, 20.946165571), (10.757600506, 19.857805401), (9.6225664, 19.453665794))
            ThreePointArc((9.6225664, 19.453665794), (8.487532294, 19.857805401), (7.970711837, 20.946165571))
            ThreePointArc((7.970711837, 20.946165571), (8.075501505, 21.756520837), (8.404337734, 22.504533714))
            ThreePointArc((8.404337734, 22.504533714), (8.813565456, 23.013741731), (9.387739323, 23.325325591))
        make_face(mode=Mode.SUBTRACT)
        with BuildLine():
            ThreePointArc((9.340815034, 24.087195642), (9.656991499, 23.86705486), (9.973167963, 24.087195642))
            ThreePointArc((9.973167963, 24.087195642), (9.656991499, 23.760023424), (9.340815034, 24.087195642))
        make_face(mode=Mode.SUBTRACT)
    extrude(amount=BOSS_EXTRUDE2_3_DEPTH)


solid = Compound([part.part, body_2.part, body_3.part, body_4.part, body_5.part, body_6.part, body_7.part, body_8.part, body_9.part, body_10.part, body_11.part, body_12.part, body_13.part, body_14.part, body_15.part])
